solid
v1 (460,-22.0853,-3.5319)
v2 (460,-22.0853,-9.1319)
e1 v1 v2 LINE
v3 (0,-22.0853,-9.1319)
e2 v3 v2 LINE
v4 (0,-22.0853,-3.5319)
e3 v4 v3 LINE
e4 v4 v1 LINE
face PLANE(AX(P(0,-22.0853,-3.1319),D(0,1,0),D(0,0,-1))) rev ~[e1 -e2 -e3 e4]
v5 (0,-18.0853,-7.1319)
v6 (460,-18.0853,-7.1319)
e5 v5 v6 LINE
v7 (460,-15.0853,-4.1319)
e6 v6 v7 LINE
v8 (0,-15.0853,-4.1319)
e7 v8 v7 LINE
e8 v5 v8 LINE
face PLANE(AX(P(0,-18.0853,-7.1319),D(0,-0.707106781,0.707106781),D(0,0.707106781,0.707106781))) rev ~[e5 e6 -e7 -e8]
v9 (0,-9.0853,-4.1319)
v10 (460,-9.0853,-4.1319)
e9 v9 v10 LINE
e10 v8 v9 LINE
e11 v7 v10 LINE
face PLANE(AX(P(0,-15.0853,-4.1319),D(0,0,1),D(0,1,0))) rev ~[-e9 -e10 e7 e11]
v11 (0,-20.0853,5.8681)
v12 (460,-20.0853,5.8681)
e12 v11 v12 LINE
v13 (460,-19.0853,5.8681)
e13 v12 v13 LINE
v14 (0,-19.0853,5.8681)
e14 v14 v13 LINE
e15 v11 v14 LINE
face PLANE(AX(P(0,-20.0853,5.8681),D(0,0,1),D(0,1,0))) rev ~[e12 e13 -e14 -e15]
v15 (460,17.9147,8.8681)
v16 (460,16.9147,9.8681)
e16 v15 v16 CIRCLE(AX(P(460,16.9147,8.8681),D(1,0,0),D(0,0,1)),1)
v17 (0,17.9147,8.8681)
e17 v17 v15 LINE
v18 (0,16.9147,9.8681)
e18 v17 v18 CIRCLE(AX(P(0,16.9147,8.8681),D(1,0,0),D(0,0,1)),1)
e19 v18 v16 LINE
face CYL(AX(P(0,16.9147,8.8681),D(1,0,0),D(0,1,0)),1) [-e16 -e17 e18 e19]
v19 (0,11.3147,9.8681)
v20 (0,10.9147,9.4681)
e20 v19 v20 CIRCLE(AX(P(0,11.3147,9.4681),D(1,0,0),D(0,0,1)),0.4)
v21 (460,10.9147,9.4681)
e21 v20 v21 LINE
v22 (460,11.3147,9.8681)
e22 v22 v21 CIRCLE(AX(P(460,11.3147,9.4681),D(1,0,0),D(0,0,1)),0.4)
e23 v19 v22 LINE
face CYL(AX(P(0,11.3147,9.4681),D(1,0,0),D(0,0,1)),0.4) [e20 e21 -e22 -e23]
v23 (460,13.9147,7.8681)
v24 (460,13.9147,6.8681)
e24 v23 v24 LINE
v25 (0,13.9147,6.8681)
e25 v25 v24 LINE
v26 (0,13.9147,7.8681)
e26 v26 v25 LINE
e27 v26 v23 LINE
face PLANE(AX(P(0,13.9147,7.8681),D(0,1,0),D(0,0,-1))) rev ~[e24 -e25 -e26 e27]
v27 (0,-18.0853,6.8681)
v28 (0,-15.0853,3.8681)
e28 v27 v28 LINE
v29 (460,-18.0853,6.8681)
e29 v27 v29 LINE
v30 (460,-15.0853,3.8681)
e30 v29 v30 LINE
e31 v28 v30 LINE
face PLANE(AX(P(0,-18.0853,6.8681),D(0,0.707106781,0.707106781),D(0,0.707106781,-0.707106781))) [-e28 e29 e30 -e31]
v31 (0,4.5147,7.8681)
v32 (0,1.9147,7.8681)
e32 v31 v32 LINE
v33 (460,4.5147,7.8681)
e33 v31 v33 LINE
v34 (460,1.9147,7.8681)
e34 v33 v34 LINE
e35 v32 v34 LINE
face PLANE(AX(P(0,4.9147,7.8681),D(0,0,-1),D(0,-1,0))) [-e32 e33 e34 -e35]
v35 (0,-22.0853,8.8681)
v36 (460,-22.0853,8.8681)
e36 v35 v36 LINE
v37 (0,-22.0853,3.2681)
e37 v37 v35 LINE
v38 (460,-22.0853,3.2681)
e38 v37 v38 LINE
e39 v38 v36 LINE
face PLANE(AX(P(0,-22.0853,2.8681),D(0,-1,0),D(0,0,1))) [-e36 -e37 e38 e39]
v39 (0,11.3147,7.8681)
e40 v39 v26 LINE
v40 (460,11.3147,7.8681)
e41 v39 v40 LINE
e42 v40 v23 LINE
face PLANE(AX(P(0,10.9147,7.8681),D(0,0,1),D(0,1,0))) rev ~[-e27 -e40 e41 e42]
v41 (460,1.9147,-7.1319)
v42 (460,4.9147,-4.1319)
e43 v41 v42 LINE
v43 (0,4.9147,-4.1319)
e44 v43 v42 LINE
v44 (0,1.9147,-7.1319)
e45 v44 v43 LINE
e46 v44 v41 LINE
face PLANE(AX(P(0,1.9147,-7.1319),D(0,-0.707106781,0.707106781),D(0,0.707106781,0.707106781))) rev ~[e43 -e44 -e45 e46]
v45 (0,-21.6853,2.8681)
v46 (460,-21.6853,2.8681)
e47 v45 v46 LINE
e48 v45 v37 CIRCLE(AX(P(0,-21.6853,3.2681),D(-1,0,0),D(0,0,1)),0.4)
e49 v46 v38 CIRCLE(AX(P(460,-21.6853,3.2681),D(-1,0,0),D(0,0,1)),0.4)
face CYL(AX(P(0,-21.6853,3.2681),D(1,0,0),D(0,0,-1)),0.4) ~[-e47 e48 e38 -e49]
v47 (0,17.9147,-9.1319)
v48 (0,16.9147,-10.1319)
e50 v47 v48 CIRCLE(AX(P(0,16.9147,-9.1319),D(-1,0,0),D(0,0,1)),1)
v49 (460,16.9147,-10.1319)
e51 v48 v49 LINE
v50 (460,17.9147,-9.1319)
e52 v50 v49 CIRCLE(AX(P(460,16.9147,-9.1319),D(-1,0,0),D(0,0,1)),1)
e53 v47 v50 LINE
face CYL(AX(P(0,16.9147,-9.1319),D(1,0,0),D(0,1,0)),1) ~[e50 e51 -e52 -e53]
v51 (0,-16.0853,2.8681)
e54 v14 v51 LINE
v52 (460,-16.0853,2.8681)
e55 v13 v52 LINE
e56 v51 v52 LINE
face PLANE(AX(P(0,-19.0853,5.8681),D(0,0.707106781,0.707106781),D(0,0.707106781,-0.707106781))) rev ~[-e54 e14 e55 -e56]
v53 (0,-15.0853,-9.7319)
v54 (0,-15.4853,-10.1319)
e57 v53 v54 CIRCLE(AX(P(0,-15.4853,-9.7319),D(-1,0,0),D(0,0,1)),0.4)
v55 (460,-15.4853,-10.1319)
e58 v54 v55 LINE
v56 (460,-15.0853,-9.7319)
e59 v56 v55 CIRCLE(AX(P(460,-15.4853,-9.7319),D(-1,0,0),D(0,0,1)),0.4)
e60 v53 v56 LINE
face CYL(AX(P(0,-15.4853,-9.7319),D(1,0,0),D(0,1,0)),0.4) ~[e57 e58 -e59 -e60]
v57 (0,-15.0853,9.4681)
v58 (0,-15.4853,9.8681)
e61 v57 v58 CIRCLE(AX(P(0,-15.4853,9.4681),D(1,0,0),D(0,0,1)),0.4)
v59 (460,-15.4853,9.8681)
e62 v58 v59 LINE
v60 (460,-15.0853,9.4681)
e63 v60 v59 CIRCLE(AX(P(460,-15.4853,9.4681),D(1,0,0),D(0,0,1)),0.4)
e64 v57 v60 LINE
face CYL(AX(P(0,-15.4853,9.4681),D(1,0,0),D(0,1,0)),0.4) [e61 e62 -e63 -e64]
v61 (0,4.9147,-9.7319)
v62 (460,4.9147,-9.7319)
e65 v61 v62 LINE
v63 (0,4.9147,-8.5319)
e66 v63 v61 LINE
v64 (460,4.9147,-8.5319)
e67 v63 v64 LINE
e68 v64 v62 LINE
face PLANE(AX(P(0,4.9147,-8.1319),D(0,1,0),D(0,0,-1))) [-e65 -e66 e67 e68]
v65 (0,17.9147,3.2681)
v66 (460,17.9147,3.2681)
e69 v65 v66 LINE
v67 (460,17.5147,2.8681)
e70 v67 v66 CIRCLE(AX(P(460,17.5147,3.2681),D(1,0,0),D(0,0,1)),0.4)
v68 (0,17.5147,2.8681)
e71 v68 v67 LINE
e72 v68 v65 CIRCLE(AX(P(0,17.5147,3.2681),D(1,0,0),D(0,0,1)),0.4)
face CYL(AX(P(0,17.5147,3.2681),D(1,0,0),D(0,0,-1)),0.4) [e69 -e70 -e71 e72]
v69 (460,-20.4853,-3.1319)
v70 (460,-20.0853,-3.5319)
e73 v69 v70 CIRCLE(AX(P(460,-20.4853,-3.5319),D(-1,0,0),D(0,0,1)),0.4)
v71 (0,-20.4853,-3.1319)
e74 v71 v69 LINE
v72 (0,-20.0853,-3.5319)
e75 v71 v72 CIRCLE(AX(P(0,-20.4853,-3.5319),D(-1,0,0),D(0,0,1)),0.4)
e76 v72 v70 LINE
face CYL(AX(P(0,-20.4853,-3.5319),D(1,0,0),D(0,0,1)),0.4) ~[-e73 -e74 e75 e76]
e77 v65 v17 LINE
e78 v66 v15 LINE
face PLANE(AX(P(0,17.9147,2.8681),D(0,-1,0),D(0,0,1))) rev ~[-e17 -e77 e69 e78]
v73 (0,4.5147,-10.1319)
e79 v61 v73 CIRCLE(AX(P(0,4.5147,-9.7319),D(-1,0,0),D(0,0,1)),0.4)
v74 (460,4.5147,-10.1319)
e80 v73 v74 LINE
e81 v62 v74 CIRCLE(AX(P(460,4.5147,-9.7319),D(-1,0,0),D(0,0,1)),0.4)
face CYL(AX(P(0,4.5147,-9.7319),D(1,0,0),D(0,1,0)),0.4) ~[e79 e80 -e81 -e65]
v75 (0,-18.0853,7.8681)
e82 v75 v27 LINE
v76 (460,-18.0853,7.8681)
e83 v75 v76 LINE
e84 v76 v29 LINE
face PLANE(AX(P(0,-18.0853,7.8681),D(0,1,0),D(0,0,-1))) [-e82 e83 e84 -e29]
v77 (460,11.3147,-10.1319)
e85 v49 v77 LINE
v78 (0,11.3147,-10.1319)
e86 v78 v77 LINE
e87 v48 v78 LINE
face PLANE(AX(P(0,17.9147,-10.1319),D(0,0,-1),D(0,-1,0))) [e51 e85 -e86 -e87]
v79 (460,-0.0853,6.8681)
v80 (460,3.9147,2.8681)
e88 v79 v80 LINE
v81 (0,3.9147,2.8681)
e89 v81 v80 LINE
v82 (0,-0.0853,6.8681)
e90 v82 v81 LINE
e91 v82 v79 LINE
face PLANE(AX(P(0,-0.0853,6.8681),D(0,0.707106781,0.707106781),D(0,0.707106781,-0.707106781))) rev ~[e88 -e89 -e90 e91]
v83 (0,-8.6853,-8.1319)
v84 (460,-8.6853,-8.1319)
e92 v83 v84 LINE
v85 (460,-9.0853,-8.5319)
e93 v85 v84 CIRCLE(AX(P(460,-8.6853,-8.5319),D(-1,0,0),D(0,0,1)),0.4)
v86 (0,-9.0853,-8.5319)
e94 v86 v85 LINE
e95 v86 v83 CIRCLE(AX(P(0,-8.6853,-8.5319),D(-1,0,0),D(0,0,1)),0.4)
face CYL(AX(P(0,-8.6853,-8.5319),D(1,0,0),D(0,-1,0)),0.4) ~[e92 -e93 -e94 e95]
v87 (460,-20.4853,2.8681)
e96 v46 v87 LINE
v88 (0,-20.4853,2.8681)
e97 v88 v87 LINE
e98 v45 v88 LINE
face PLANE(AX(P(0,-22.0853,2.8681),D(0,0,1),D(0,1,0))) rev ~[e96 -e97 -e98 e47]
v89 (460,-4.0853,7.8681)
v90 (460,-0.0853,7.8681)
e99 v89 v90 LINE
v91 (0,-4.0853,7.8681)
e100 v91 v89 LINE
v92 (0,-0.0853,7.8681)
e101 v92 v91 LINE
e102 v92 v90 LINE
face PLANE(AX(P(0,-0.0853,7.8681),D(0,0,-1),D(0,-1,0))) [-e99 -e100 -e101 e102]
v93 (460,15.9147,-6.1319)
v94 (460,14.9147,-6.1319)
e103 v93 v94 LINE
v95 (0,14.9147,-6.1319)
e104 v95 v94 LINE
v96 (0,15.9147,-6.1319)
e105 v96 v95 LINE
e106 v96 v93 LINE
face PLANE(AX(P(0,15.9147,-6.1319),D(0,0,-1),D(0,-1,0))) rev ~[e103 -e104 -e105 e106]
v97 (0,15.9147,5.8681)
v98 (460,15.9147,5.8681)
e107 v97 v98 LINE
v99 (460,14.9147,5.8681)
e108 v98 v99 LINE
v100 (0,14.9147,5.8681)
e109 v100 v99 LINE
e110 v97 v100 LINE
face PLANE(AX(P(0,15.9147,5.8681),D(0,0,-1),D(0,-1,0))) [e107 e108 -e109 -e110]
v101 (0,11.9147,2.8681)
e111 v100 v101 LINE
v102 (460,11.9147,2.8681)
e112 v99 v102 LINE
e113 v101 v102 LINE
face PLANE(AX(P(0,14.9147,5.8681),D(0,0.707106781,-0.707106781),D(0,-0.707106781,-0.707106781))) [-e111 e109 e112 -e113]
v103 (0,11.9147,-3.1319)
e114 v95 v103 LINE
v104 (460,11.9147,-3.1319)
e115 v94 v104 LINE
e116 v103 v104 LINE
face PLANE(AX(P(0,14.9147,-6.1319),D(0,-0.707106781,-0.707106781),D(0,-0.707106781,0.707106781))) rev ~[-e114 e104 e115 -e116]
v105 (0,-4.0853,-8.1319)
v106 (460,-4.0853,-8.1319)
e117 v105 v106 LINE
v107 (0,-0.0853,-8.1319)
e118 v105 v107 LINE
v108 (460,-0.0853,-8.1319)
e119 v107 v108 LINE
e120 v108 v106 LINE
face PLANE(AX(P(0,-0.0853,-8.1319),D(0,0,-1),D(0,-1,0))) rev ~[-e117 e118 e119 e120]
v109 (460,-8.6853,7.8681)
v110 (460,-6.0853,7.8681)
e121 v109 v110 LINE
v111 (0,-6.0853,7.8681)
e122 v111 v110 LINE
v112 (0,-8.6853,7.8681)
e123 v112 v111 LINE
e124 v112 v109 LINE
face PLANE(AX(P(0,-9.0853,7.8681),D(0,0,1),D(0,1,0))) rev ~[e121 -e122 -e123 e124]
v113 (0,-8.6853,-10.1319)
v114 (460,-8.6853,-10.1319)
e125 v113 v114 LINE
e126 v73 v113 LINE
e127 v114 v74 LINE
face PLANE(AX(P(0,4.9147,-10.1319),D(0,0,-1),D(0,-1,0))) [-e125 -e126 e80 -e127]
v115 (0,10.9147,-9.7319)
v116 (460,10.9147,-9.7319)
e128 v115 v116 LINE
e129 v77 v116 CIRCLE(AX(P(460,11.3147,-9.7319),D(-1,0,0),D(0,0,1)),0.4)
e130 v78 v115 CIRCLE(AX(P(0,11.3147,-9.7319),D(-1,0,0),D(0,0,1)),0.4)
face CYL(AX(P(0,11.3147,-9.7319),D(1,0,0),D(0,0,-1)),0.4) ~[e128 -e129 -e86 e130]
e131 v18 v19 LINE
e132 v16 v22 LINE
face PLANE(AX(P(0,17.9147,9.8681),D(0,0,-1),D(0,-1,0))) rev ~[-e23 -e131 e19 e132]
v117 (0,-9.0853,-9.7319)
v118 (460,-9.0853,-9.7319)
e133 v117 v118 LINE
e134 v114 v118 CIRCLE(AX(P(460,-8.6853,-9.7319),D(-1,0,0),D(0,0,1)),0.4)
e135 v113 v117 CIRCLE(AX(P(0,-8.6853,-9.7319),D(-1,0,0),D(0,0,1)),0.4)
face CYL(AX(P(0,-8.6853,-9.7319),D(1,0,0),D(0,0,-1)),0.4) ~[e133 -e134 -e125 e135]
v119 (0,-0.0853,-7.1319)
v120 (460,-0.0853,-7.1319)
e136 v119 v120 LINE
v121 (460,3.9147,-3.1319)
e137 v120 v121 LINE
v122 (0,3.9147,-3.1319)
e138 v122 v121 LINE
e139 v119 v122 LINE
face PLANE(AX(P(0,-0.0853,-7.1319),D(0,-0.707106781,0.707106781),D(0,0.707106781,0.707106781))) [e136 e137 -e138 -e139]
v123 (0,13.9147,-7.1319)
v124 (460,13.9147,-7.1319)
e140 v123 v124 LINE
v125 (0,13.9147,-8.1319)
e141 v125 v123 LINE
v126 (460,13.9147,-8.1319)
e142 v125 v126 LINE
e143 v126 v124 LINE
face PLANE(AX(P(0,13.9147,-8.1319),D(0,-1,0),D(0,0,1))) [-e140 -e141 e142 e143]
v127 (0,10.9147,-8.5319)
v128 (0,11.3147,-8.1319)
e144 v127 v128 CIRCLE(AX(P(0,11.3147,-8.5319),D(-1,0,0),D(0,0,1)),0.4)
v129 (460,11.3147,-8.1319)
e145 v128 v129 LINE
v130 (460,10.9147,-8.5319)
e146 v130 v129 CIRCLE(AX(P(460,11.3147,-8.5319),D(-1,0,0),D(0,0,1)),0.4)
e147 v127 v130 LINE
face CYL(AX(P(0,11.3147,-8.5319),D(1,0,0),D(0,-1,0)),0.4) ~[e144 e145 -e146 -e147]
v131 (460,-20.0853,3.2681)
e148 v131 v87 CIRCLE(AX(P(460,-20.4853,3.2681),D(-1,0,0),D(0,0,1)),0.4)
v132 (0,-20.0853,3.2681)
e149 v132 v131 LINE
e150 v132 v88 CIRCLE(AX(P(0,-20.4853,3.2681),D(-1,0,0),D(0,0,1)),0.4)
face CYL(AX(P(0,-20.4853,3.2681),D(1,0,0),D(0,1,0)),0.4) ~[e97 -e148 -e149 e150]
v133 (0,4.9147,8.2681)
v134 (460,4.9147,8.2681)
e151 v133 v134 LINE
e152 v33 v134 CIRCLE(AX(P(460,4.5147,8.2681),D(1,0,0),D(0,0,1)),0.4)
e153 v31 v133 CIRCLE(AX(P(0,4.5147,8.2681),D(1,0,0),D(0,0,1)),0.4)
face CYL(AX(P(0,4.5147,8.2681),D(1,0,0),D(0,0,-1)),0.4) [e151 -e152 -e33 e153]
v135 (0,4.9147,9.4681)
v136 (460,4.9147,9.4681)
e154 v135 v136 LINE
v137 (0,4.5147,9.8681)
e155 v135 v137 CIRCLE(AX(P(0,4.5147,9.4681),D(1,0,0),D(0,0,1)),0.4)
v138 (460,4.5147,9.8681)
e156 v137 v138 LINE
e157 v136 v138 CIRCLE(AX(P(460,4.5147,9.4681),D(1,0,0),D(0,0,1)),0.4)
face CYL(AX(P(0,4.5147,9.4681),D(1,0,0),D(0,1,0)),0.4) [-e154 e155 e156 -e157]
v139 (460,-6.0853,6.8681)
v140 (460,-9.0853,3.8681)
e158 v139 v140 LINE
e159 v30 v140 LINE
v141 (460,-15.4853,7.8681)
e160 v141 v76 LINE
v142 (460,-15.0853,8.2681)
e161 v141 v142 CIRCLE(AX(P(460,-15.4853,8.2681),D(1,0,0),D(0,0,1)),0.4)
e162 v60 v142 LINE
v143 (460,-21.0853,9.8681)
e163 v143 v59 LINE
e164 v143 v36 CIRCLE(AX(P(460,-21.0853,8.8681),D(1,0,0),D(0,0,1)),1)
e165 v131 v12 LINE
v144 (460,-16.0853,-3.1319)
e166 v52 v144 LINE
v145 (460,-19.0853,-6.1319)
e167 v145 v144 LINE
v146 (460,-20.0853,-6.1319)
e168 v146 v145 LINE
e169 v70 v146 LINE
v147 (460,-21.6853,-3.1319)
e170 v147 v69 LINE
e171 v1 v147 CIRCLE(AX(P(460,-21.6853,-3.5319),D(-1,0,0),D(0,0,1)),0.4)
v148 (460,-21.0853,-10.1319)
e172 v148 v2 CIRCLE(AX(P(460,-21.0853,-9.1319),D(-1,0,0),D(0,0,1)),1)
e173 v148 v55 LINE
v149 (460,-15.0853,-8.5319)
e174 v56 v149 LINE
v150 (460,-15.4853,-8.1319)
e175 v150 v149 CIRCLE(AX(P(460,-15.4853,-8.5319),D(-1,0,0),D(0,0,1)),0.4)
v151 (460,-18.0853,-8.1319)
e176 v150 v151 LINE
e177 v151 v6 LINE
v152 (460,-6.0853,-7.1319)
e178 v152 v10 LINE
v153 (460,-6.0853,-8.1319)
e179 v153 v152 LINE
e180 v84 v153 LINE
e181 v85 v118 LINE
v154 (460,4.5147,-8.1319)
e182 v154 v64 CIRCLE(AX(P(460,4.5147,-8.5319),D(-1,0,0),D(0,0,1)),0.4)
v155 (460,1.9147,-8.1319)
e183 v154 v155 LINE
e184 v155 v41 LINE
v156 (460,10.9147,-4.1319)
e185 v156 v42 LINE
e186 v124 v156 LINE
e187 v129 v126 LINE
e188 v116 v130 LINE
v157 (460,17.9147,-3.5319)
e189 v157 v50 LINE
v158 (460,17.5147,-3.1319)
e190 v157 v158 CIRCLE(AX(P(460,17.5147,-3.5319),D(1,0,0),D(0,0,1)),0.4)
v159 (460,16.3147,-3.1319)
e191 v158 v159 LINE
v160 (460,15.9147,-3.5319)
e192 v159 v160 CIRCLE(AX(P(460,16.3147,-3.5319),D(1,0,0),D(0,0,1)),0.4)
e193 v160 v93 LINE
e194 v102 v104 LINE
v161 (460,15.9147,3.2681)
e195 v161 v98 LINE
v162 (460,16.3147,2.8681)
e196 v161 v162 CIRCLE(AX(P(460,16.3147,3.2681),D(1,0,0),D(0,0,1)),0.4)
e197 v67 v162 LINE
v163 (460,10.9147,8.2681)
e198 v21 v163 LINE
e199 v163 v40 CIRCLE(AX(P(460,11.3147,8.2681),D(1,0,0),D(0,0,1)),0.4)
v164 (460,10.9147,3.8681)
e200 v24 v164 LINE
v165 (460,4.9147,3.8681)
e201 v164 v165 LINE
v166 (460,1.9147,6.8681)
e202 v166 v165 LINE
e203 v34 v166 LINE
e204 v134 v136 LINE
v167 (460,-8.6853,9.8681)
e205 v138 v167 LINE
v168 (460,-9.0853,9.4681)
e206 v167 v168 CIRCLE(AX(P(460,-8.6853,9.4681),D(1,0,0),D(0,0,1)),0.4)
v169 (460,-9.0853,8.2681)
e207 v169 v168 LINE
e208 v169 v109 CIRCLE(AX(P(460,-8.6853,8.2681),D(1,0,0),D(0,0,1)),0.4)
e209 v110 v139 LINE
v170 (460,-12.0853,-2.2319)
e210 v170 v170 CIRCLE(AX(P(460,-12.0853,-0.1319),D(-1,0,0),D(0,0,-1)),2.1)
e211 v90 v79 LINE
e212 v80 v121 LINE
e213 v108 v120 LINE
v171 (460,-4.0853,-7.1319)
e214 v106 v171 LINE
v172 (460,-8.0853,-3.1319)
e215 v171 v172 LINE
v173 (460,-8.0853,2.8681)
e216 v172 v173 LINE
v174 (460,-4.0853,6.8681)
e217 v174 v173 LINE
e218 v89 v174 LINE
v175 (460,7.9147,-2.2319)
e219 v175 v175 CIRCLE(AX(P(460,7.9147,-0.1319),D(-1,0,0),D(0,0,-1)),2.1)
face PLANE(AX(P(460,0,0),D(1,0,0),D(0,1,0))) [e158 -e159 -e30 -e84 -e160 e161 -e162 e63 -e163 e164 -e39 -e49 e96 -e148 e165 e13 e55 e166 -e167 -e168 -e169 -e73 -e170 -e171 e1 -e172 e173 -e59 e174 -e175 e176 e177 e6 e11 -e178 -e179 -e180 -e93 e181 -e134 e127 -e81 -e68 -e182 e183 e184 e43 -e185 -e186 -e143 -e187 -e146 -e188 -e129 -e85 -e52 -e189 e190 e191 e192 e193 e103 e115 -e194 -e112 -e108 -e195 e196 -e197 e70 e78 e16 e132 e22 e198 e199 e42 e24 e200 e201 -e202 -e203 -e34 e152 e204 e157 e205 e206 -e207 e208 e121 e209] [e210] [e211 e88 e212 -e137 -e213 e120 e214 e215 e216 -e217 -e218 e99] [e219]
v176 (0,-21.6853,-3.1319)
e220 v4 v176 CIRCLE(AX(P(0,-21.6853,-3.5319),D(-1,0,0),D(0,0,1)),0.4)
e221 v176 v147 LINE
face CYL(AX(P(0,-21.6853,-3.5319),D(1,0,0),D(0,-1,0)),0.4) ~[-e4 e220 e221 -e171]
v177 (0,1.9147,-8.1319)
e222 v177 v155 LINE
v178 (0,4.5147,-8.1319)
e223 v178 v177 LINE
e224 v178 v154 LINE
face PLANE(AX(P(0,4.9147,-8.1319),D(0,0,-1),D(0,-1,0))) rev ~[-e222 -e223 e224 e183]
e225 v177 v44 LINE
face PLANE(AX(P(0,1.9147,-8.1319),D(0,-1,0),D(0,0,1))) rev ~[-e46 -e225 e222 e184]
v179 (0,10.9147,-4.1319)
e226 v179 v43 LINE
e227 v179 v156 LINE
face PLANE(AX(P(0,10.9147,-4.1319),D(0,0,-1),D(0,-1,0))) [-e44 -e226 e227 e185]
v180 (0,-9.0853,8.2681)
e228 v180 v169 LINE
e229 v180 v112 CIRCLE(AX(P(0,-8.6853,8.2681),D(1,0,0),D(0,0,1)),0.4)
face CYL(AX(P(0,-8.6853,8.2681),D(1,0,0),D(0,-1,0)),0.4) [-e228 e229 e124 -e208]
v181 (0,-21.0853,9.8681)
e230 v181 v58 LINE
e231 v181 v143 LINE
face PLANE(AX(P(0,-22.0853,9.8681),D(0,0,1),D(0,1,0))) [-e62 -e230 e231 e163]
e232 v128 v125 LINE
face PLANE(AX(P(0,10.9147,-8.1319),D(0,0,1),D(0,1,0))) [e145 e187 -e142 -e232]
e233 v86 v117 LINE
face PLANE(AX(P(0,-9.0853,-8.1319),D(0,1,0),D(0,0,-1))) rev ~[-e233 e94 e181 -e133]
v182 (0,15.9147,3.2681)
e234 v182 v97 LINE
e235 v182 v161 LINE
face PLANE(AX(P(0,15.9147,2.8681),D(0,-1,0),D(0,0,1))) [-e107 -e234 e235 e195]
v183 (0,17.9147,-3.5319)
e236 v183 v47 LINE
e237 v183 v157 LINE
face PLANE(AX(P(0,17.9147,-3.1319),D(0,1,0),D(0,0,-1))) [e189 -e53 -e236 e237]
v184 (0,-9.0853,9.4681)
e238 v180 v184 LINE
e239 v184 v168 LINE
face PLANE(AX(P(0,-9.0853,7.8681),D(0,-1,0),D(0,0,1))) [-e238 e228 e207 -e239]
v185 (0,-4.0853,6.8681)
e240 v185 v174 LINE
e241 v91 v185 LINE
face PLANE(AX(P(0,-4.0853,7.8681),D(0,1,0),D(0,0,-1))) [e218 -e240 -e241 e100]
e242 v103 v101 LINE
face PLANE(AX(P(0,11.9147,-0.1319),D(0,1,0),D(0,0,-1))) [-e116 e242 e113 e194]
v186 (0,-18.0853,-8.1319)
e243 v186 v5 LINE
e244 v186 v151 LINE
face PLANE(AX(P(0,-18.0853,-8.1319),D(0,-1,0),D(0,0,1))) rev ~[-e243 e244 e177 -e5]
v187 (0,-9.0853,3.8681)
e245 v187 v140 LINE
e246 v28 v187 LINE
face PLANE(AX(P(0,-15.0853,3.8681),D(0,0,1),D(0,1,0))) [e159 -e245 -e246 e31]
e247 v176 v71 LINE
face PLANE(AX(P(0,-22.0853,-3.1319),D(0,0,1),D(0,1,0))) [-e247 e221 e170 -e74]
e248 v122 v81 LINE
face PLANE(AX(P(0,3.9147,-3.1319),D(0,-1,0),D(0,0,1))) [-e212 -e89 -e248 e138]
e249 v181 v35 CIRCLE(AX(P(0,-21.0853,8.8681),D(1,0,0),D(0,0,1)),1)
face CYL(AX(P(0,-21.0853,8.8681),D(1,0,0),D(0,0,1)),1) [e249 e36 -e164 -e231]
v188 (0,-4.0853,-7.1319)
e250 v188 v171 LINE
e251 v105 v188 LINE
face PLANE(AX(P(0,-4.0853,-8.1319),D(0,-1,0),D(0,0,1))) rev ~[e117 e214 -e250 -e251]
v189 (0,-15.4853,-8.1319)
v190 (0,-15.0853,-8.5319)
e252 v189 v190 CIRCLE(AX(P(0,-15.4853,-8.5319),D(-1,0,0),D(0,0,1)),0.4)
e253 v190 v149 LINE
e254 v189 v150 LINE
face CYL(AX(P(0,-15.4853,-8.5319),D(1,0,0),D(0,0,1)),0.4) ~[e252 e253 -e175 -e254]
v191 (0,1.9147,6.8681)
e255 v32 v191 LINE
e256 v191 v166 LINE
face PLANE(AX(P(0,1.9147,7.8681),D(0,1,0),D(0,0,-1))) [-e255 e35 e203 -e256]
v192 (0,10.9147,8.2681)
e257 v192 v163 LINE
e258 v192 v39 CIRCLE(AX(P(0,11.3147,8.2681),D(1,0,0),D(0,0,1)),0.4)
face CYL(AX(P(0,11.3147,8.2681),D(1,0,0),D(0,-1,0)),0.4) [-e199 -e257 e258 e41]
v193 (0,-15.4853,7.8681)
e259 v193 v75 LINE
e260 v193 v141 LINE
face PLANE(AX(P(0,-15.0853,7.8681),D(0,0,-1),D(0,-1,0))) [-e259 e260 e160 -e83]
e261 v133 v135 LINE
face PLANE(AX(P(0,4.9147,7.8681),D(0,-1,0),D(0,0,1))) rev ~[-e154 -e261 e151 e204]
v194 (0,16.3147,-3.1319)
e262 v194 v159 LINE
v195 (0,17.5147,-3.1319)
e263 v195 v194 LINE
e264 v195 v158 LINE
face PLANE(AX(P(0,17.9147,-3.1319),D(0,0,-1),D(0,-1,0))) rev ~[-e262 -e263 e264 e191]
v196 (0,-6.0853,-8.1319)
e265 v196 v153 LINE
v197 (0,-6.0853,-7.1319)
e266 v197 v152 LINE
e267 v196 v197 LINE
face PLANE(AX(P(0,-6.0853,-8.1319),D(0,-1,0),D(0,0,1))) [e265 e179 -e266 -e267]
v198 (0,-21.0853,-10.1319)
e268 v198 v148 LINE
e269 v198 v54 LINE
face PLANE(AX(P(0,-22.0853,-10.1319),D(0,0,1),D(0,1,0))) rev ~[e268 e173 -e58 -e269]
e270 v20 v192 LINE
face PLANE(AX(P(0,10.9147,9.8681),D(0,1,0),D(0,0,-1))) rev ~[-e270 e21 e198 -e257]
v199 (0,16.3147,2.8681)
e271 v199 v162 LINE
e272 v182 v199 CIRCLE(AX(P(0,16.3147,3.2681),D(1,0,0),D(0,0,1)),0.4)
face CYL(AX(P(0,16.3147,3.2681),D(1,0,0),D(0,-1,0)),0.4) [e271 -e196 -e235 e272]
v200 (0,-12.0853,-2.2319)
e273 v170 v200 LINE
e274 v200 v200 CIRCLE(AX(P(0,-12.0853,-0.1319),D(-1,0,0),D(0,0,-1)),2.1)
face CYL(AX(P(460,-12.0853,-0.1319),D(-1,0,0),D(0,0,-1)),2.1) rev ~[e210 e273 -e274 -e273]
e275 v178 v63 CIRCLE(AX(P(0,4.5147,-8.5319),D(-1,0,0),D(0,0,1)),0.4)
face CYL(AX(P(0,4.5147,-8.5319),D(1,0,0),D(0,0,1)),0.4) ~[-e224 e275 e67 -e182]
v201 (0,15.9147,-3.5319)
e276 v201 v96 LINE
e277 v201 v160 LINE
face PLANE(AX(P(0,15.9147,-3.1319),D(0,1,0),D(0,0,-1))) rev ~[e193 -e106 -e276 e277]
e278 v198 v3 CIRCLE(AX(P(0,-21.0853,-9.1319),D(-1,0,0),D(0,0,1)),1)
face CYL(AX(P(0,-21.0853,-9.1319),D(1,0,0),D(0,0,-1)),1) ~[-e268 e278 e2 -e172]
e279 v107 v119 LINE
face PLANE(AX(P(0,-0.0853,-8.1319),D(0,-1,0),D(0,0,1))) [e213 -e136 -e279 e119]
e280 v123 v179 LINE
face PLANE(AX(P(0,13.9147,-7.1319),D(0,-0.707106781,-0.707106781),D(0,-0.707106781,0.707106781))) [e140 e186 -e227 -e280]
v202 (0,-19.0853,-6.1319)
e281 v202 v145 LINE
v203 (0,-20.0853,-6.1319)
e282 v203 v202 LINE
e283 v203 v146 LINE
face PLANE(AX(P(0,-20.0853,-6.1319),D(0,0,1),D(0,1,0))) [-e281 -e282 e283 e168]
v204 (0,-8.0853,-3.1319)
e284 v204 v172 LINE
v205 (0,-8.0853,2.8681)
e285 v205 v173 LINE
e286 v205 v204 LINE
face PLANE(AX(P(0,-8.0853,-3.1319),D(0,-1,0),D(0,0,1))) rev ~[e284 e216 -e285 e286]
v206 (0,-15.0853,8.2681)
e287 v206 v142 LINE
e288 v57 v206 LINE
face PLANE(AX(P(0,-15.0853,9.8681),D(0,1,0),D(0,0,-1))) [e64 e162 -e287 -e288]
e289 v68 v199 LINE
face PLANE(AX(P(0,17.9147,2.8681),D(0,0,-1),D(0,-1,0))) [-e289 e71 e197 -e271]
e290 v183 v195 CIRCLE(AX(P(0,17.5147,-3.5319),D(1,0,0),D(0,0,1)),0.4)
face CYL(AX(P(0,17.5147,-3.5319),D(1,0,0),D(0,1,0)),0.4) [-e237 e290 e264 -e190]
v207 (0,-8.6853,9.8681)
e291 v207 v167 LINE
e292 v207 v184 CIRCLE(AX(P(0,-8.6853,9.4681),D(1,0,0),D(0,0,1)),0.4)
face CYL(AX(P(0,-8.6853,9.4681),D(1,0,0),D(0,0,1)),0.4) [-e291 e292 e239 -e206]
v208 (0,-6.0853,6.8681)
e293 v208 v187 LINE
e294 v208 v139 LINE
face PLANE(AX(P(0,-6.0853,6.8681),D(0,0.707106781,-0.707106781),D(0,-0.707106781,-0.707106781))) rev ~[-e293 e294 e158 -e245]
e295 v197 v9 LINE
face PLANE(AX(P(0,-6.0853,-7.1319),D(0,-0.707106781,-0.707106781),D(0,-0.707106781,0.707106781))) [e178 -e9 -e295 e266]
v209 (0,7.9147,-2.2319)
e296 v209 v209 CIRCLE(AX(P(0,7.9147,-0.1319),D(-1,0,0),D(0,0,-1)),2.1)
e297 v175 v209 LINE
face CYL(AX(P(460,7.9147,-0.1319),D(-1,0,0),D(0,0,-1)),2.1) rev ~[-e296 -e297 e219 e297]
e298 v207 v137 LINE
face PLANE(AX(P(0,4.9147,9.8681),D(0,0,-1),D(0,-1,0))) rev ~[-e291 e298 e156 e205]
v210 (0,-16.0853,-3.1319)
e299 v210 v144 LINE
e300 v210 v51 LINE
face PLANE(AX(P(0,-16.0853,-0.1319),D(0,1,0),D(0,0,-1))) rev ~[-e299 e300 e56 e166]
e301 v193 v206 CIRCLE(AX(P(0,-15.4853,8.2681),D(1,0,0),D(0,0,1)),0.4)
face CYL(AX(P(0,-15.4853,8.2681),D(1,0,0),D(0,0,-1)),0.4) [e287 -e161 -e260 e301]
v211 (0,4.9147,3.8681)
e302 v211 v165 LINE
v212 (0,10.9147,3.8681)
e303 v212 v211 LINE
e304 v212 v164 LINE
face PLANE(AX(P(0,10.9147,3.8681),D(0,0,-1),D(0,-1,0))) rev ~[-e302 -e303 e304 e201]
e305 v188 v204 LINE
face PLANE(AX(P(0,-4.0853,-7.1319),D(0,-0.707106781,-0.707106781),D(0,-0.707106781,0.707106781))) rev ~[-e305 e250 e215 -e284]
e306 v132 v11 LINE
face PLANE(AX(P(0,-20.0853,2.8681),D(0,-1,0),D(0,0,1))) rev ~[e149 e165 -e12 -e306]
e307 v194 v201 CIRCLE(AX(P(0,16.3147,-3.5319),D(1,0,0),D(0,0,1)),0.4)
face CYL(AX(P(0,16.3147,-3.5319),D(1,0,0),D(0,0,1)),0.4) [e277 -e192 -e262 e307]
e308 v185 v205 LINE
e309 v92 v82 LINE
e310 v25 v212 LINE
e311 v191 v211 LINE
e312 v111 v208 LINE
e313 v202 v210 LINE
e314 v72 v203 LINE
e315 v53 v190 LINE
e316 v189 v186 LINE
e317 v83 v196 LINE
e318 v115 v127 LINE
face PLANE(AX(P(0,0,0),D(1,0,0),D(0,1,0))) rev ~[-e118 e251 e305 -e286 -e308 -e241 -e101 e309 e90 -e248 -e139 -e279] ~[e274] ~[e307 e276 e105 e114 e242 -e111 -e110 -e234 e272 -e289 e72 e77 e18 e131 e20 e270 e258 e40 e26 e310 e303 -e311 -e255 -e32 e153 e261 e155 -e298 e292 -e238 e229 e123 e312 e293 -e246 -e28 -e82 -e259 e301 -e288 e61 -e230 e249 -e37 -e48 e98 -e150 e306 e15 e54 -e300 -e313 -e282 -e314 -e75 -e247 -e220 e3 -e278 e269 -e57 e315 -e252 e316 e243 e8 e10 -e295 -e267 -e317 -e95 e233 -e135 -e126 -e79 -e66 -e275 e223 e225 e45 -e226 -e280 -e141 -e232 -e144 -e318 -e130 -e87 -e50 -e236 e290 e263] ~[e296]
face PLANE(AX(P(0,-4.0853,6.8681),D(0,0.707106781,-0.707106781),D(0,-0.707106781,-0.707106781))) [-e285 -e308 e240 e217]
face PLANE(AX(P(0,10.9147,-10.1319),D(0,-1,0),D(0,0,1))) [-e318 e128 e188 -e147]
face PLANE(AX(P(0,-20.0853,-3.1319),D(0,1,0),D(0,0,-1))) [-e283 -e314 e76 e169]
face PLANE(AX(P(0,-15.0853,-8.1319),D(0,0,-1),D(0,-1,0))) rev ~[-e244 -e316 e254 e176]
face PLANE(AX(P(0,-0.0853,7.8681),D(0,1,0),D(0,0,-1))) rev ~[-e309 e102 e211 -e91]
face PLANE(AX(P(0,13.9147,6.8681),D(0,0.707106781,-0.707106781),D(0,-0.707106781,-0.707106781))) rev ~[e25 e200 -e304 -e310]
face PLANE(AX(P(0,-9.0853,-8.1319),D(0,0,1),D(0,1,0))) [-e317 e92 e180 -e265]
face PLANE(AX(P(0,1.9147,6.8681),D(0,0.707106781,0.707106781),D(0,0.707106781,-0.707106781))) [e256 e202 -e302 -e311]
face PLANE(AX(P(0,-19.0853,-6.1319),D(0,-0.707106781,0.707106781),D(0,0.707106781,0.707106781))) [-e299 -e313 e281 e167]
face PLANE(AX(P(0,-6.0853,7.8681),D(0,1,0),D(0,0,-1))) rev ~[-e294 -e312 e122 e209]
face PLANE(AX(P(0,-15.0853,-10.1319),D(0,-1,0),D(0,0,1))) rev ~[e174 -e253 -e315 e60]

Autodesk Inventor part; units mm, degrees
ref_plane "YZ Plane" through (0, 0, 0) normal (1, 0, 0) x (0, 1, 0)
ref_plane "XZ Plane" through (0, 0, 0) normal (0, 1, 0) x (-1, 0, 0)
ref_plane "XY Plane" through (0, 0, 0) normal (0, 0, 1) x (1, 0, 0)
sketch "Szkic1" plane through (0, 0, 0) normal (1, 0, 0) x (0, 1, 0)
  line L0 (23.5169, -0.1319) -> (-36.4831, -0.1319)
  line L1 (-2.0853, 36.7703) -> (-2.0853, -38.5298)
  line L2 (17.9147, 2.8681) -> (15.9147, 2.8681)
  line L3 (17.9147, 2.8681) -> (17.9147, 9.8681)
  line L4 (17.9147, 9.8681) -> (10.9147, 9.8681)
  line L5 (10.9147, 9.8681) -> (10.9147, 7.8681)
  line L6 (15.9147, 2.8681) -> (15.9147, 5.8681)
  line L7 (10.9147, 7.8681) -> (13.9147, 7.8681)
  line L8 (13.9147, 7.8681) -> (13.9147, 6.8681)
  line L9 (15.9147, 5.8681) -> (14.9147, 5.8681)
  line L10 (11.9147, -0.1319) -> (11.9147, 2.8681)
  line L11 (10.9147, 3.8681) -> (4.9147, 3.8681)
  line L12 (3.9147, 2.8681) -> (3.9147, -0.1319)
  line L13 (4.9147, 7.8681) -> (4.9147, 9.8681)
  line L14 (4.9147, 9.8681) -> (-2.0853, 9.8681)
  line L15 (4.9147, 7.8681) -> (1.9147, 7.8681)
  line L16 (1.9147, 7.8681) -> (1.9147, 6.8681)
  line L17 (-0.0853, 7.8681) -> (-0.0853, 6.8681)
  line L18 (-0.0853, 7.8681) -> (-2.0853, 7.8681)
  line L19 (1.9147, 6.8681) -> (4.9147, 3.8681)
  line L20 (1.9147, 6.8681) -> (8.4857, 6.8681) construction
  line L21 (-0.0853, 6.8681) -> (3.9147, 2.8681)
  line L22 (-0.0853, 6.8681) -> (7.9037, 6.8681) construction
  line L23 (14.9147, 5.8681) -> (11.9147, 2.8681)
  line L24 (14.9147, 5.8681) -> (20.5717, 5.8681) construction
  line L25 (13.9147, 6.8681) -> (10.9147, 3.8681)
  line L26 (13.9147, 6.8681) -> (19.5717, 6.8681) construction
  line L27 (17.9147, -3.1319) -> (15.9147, -3.1319)
  line L28 (17.9147, -3.1319) -> (17.9147, -10.1319)
  line L29 (17.9147, -10.1319) -> (10.9147, -10.1319)
  line L30 (10.9147, -10.1319) -> (10.9147, -8.1319)
  line L31 (15.9147, -3.1319) -> (15.9147, -6.1319)
  line L32 (10.9147, -8.1319) -> (13.9147, -8.1319)
  line L33 (13.9147, -8.1319) -> (13.9147, -7.1319)
  line L34 (15.9147, -6.1319) -> (14.9147, -6.1319)
  line L35 (11.9147, -0.1319) -> (11.9147, -3.1319)
  line L36 (10.9147, -4.1319) -> (4.9147, -4.1319)
  line L37 (3.9147, -3.1319) -> (3.9147, -0.1319)
  line L38 (4.9147, -8.1319) -> (4.9147, -10.1319)
  line L39 (4.9147, -10.1319) -> (-2.0853, -10.1319)
  line L40 (4.9147, -8.1319) -> (1.9147, -8.1319)
  line L41 (1.9147, -8.1319) -> (1.9147, -7.1319)
  line L42 (-0.0853, -8.1319) -> (-0.0853, -7.1319)
  line L43 (-0.0853, -8.1319) -> (-2.0853, -8.1319)
  line L44 (1.9147, -7.1319) -> (4.9147, -4.1319)
  line L45 (1.9147, -7.1319) -> (8.4857, -7.1319) construction
  line L46 (-0.0853, -7.1319) -> (3.9147, -3.1319)
  line L47 (-0.0853, -7.1319) -> (7.9037, -7.1319) construction
  line L48 (14.9147, -6.1319) -> (11.9147, -3.1319)
  line L49 (13.9147, -7.1319) -> (10.9147, -4.1319)
  line L50 (13.9147, -7.1319) -> (19.5717, -7.1319) construction
  line L51 (-22.0853, 2.8681) -> (-20.0853, 2.8681)
  line L52 (-22.0853, 2.8681) -> (-22.0853, 9.8681)
  line L53 (-22.0853, 9.8681) -> (-15.0853, 9.8681)
  line L54 (-15.0853, 9.8681) -> (-15.0853, 7.8681)
  line L55 (-20.0853, 2.8681) -> (-20.0853, 5.8681)
  line L56 (-15.0853, 7.8681) -> (-18.0853, 7.8681)
  line L57 (-18.0853, 7.8681) -> (-18.0853, 6.8681)
  line L58 (-20.0853, 5.8681) -> (-19.0853, 5.8681)
  line L59 (-16.0853, -0.1319) -> (-16.0853, 2.8681)
  line L60 (-15.0853, 3.8681) -> (-9.0853, 3.8681)
  line L61 (-8.0853, 2.8681) -> (-8.0853, -0.1319)
  line L62 (-9.0853, 7.8681) -> (-9.0853, 9.8681)
  line L63 (-9.0853, 9.8681) -> (-2.0853, 9.8681)
  line L64 (-9.0853, 7.8681) -> (-6.0853, 7.8681)
  line L65 (-6.0853, 7.8681) -> (-6.0853, 6.8681)
  line L66 (-4.0853, 7.8681) -> (-4.0853, 6.8681)
  line L67 (-4.0853, 7.8681) -> (-2.0853, 7.8681)
  line L68 (-6.0853, 6.8681) -> (-9.0853, 3.8681)
  line L69 (-6.0853, 6.8681) -> (-12.6563, 6.8681) construction
  line L70 (-4.0853, 6.8681) -> (-8.0853, 2.8681)
  line L71 (-4.0853, 6.8681) -> (-12.0743, 6.8681) construction
  line L72 (-19.0853, 5.8681) -> (-16.0853, 2.8681)
  line L73 (-19.0853, 5.8681) -> (-24.7423, 5.8681) construction
  line L74 (-18.0853, 6.8681) -> (-15.0853, 3.8681)
  line L75 (-18.0853, 6.8681) -> (-23.7423, 6.8681) construction
  line L76 (-6.0853, -7.1319) -> (-12.6563, -7.1319) construction
  line L77 (-6.0853, -7.1319) -> (-9.0853, -4.1319)
  line L78 (-4.0853, -7.1319) -> (-12.0743, -7.1319) construction
  line L79 (-4.0853, -8.1319) -> (-4.0853, -7.1319)
  line L80 (-4.0853, -7.1319) -> (-8.0853, -3.1319)
  line L81 (-6.0853, -8.1319) -> (-6.0853, -7.1319)
  line L82 (-9.0853, -8.1319) -> (-6.0853, -8.1319)
  line L83 (-4.0853, -8.1319) -> (-2.0853, -8.1319)
  line L84 (-15.0853, -10.1319) -> (-15.0853, -8.1319)
  line L85 (-9.0853, -10.1319) -> (-2.0853, -10.1319)
  line L86 (-9.0853, -8.1319) -> (-9.0853, -10.1319)
  line L87 (-15.0853, -4.1319) -> (-9.0853, -4.1319)
  line L88 (-8.0853, -3.1319) -> (-8.0853, -0.1319)
  line L89 (-22.0853, -3.1319) -> (-20.0853, -3.1319)
  line L90 (-22.0853, -3.1319) -> (-22.0853, -10.1319)
  line L91 (-22.0853, -10.1319) -> (-15.0853, -10.1319)
  line L92 (-20.0853, -3.1319) -> (-20.0853, -6.1319)
  line L93 (-15.0853, -8.1319) -> (-18.0853, -8.1319)
  line L94 (-18.0853, -8.1319) -> (-18.0853, -7.1319)
  line L95 (-20.0853, -6.1319) -> (-19.0853, -6.1319)
  line L96 (-18.0853, -7.1319) -> (-15.0853, -4.1319)
  line L97 (-19.0853, -6.1319) -> (-16.0853, -3.1319)
  line L98 (-18.0853, -7.1319) -> (-23.7423, -7.1319) construction
  line L99 (-16.0853, -0.1319) -> (-16.0853, -3.1319)
  point P0 (0, 0)
  point P1 (0, -0.2637)
  point P2 (-4.1707, 0)
  point P3 (-4.1707, -0.2637)
  dimension "d1" = 2
  dimension "d2" = 3
  dimension "d3" = 7
  dimension "d4" = 7
  dimension "d5" = 2
  dimension "d6" = 3
  dimension "d7" = 3
  dimension "d8" = 1
  dimension "d9" = 1
  dimension "d12" = 6
  dimension "d13" = 2
  dimension "d14" = 7
  dimension "d15" = 6
  dimension "d16" = 3
  dimension "d17" = 1
  dimension "d18" = 1
  dimension "d19" = 2
  dimension "d20" = 8
  dimension "d22" = 45
  dimension "d24" = 45
  dimension "d26" = 135
  dimension "d28" = 135
  dimension "d29" = 6
  dimension "d30" = 4
  dimension "d31" = 3
  dimension "d32" = 3
  dimension "d33" = 8
  dimension "d34" = 1
extrude "Wyciągnięcie proste1" add sketch "Szkic1" along normal blind 460 contours L35 L48 L34 L31 L27 L28 L29 L30 L32 L33 L49 L36 L44 L41 L40 L38 L39 L1 L43 L42 L46 L37 L0 | L0 L12 L21 L17 L18 L1 L14 L13 L15 L16 L19 L11 L25 L8 L7 L5 L4 L3 L2 L6 L9 L23 L10 | L88 L80 L79 L83 L1 L85 L86 L82 L81 L77 L87 L96 L94 L93 L84 L91 L90 L89 L92 L95 L97 L99 L0 | L0 L59 L72 L58 L55 L51 L52 L53 L54 L56 L57 L74 L60 L68 L65 L64 L62 L63 L1 L67 L66 L70 L61
sketch "Szkic2" plane through (460, 0, 0) normal (1, 0, 0) x (0, 0, -1)
  line L0 (-7.8681, -4.0853) -> (-7.8681, -0.0853) projected
  line L1 (-7.8681, -0.0853) -> (-6.8681, -0.0853) projected
  line L2 (-6.8681, -0.0853) -> (-2.8681, 3.9147) projected
  line L3 (-2.8681, 3.9147) -> (3.1319, 3.9147) projected
  line L4 (3.1319, 3.9147) -> (7.1319, -0.0853) projected
  line L5 (7.1319, -0.0853) -> (8.1319, -0.0853) projected
  line L6 (8.1319, -0.0853) -> (8.1319, -4.0853) projected
  line L7 (8.1319, -4.0853) -> (7.1319, -4.0853) projected
  line L8 (7.1319, -4.0853) -> (3.1319, -8.0853) projected
  line L9 (3.1319, -8.0853) -> (-2.8681, -8.0853) projected
  line L10 (-2.8681, -8.0853) -> (-6.8681, -4.0853) projected
  line L11 (-6.8681, -4.0853) -> (-7.8681, -4.0853) projected
  line L12 (-9.8681, 4.9147) -> (-9.8681, -9.0853) projected
  line L13 (-9.8681, -9.0853) -> (-7.8681, -9.0853) projected
  line L14 (-7.8681, -9.0853) -> (-7.8681, -6.0853) projected
  line L15 (-7.8681, -6.0853) -> (-6.8681, -6.0853) projected
  line L16 (-6.8681, -6.0853) -> (-3.8681, -9.0853) projected
  line L17 (-3.8681, -9.0853) -> (-3.8681, -15.0853) projected
  line L18 (-3.8681, -15.0853) -> (-6.8681, -18.0853) projected
  line L19 (-6.8681, -18.0853) -> (-7.8681, -18.0853) projected
  line L20 (-7.8681, -18.0853) -> (-7.8681, -15.0853) projected
  line L21 (-7.8681, -15.0853) -> (-9.8681, -15.0853) projected
  line L22 (-9.8681, -15.0853) -> (-9.8681, -22.0853) projected
  line L23 (-9.8681, -22.0853) -> (-2.8681, -22.0853) projected
  line L24 (-2.8681, -22.0853) -> (-2.8681, -20.0853) projected
  line L25 (-2.8681, -20.0853) -> (-5.8681, -20.0853) projected
  line L26 (-5.8681, -20.0853) -> (-5.8681, -19.0853) projected
  line L27 (-5.8681, -19.0853) -> (-2.8681, -16.0853) projected
  line L28 (-2.8681, -16.0853) -> (3.1319, -16.0853) projected
  line L29 (3.1319, -16.0853) -> (6.1319, -19.0853) projected
  line L30 (6.1319, -19.0853) -> (6.1319, -20.0853) projected
  line L31 (6.1319, -20.0853) -> (3.1319, -20.0853) projected
  line L32 (3.1319, -20.0853) -> (3.1319, -22.0853) projected
  line L33 (3.1319, -22.0853) -> (10.1319, -22.0853) projected
  line L34 (10.1319, -22.0853) -> (10.1319, -15.0853) projected
  line L35 (10.1319, -15.0853) -> (8.1319, -15.0853) projected
  line L36 (8.1319, -15.0853) -> (8.1319, -18.0853) projected
  line L37 (8.1319, -18.0853) -> (7.1319, -18.0853) projected
  line L38 (7.1319, -18.0853) -> (4.1319, -15.0853) projected
  line L39 (4.1319, -15.0853) -> (4.1319, -9.0853) projected
  line L40 (4.1319, -9.0853) -> (7.1319, -6.0853) projected
  line L41 (7.1319, -6.0853) -> (8.1319, -6.0853) projected
  line L42 (8.1319, -6.0853) -> (8.1319, -9.0853) projected
  line L43 (8.1319, -9.0853) -> (10.1319, -9.0853) projected
  line L44 (10.1319, -9.0853) -> (10.1319, 4.9147) projected
  line L45 (10.1319, 4.9147) -> (8.1319, 4.9147) projected
  line L46 (8.1319, 4.9147) -> (8.1319, 1.9147) projected
  line L47 (8.1319, 1.9147) -> (7.1319, 1.9147) projected
  line L48 (7.1319, 1.9147) -> (4.1319, 4.9147) projected
  line L49 (4.1319, 4.9147) -> (4.1319, 10.9147) projected
  line L50 (4.1319, 10.9147) -> (7.1319, 13.9147) projected
  line L51 (7.1319, 13.9147) -> (8.1319, 13.9147) projected
  line L52 (8.1319, 13.9147) -> (8.1319, 10.9147) projected
  line L53 (8.1319, 10.9147) -> (10.1319, 10.9147) projected
  line L54 (10.1319, 10.9147) -> (10.1319, 17.9147) projected
  line L55 (10.1319, 17.9147) -> (3.1319, 17.9147) projected
  line L56 (3.1319, 17.9147) -> (3.1319, 15.9147) projected
  line L57 (3.1319, 15.9147) -> (6.1319, 15.9147) projected
  line L58 (6.1319, 15.9147) -> (6.1319, 14.9147) projected
  line L59 (6.1319, 14.9147) -> (3.1319, 11.9147) projected
  line L60 (3.1319, 11.9147) -> (-2.8681, 11.9147) projected
  line L61 (-2.8681, 11.9147) -> (-5.8681, 14.9147) projected
  line L62 (-5.8681, 14.9147) -> (-5.8681, 15.9147) projected
  line L63 (-5.8681, 15.9147) -> (-2.8681, 15.9147) projected
  line L64 (-2.8681, 15.9147) -> (-2.8681, 17.9147) projected
  line L65 (-2.8681, 17.9147) -> (-9.8681, 17.9147) projected
  line L66 (-9.8681, 17.9147) -> (-9.8681, 10.9147) projected
  line L67 (-9.8681, 10.9147) -> (-7.8681, 10.9147) projected
  line L68 (-7.8681, 10.9147) -> (-7.8681, 13.9147) projected
  line L69 (-7.8681, 13.9147) -> (-6.8681, 13.9147) projected
  line L70 (-6.8681, 13.9147) -> (-3.8681, 10.9147) projected
  line L71 (-3.8681, 10.9147) -> (-3.8681, 4.9147) projected
  line L72 (-3.8681, 4.9147) -> (-6.8681, 1.9147) projected
  line L73 (-6.8681, 1.9147) -> (-7.8681, 1.9147) projected
  line L74 (-7.8681, 1.9147) -> (-7.8681, 4.9147) projected
  line L75 (-7.8681, 4.9147) -> (-9.8681, 4.9147) projected
  point P0 (0, 0)
  point P1 (0.1319, 7.9147)
  point P2 (0.1319, -12.0853)
  dimension "d37" = 4
  dimension "d38" = 4
  dimension "d39" = 4
  dimension "d40" = 4
hole "Otwór1" at (460, 7.9147, -0.1319) at (460, -12.0853, -0.1319) direction (-1, 0, 0) diameter 4.2 end through all
fillet "Zaokrąglenie1" radius 1 4 edges at (230, 17.9147, -10.1319) (230, 17.9147, 9.8681) (230, -22.0853, -10.1319) (230, -22.0853, 9.8681)
fillet "Zaokrąglenie2" radius 0.4 24 edges at (230, 4.9147, -10.1319) (230, 4.9147, -8.1319) (230, 10.9147, -10.1319) (230, 10.9147, -8.1319) (230, 17.9147, -3.1319) (230, 15.9147, -3.1319) (230, 10.9147, 9.8681) (230, 17.9147, 2.8681) (230, 10.9147, 7.8681) (230, 15.9147, 2.8681) (230, 4.9147, 7.8681) (230, 4.9147, 9.8681) (230, -9.0853, 7.8681) (230, -9.0853, 9.8681) (230, -15.0853, 7.8681) (230, -15.0853, 9.8681) (230, -9.0853, -10.1319) (230, -9.0853, -8.1319) (230, -15.0853, -10.1319) (230, -15.0853, -8.1319) (230, -20.0853, -3.1319) (230, -22.0853, -3.1319) (230, -22.0853, 2.8681) (230, -20.0853, 2.8681)
properties part number "COTS_GENERIC_20x40mm_alu_extrusion_460mm"
